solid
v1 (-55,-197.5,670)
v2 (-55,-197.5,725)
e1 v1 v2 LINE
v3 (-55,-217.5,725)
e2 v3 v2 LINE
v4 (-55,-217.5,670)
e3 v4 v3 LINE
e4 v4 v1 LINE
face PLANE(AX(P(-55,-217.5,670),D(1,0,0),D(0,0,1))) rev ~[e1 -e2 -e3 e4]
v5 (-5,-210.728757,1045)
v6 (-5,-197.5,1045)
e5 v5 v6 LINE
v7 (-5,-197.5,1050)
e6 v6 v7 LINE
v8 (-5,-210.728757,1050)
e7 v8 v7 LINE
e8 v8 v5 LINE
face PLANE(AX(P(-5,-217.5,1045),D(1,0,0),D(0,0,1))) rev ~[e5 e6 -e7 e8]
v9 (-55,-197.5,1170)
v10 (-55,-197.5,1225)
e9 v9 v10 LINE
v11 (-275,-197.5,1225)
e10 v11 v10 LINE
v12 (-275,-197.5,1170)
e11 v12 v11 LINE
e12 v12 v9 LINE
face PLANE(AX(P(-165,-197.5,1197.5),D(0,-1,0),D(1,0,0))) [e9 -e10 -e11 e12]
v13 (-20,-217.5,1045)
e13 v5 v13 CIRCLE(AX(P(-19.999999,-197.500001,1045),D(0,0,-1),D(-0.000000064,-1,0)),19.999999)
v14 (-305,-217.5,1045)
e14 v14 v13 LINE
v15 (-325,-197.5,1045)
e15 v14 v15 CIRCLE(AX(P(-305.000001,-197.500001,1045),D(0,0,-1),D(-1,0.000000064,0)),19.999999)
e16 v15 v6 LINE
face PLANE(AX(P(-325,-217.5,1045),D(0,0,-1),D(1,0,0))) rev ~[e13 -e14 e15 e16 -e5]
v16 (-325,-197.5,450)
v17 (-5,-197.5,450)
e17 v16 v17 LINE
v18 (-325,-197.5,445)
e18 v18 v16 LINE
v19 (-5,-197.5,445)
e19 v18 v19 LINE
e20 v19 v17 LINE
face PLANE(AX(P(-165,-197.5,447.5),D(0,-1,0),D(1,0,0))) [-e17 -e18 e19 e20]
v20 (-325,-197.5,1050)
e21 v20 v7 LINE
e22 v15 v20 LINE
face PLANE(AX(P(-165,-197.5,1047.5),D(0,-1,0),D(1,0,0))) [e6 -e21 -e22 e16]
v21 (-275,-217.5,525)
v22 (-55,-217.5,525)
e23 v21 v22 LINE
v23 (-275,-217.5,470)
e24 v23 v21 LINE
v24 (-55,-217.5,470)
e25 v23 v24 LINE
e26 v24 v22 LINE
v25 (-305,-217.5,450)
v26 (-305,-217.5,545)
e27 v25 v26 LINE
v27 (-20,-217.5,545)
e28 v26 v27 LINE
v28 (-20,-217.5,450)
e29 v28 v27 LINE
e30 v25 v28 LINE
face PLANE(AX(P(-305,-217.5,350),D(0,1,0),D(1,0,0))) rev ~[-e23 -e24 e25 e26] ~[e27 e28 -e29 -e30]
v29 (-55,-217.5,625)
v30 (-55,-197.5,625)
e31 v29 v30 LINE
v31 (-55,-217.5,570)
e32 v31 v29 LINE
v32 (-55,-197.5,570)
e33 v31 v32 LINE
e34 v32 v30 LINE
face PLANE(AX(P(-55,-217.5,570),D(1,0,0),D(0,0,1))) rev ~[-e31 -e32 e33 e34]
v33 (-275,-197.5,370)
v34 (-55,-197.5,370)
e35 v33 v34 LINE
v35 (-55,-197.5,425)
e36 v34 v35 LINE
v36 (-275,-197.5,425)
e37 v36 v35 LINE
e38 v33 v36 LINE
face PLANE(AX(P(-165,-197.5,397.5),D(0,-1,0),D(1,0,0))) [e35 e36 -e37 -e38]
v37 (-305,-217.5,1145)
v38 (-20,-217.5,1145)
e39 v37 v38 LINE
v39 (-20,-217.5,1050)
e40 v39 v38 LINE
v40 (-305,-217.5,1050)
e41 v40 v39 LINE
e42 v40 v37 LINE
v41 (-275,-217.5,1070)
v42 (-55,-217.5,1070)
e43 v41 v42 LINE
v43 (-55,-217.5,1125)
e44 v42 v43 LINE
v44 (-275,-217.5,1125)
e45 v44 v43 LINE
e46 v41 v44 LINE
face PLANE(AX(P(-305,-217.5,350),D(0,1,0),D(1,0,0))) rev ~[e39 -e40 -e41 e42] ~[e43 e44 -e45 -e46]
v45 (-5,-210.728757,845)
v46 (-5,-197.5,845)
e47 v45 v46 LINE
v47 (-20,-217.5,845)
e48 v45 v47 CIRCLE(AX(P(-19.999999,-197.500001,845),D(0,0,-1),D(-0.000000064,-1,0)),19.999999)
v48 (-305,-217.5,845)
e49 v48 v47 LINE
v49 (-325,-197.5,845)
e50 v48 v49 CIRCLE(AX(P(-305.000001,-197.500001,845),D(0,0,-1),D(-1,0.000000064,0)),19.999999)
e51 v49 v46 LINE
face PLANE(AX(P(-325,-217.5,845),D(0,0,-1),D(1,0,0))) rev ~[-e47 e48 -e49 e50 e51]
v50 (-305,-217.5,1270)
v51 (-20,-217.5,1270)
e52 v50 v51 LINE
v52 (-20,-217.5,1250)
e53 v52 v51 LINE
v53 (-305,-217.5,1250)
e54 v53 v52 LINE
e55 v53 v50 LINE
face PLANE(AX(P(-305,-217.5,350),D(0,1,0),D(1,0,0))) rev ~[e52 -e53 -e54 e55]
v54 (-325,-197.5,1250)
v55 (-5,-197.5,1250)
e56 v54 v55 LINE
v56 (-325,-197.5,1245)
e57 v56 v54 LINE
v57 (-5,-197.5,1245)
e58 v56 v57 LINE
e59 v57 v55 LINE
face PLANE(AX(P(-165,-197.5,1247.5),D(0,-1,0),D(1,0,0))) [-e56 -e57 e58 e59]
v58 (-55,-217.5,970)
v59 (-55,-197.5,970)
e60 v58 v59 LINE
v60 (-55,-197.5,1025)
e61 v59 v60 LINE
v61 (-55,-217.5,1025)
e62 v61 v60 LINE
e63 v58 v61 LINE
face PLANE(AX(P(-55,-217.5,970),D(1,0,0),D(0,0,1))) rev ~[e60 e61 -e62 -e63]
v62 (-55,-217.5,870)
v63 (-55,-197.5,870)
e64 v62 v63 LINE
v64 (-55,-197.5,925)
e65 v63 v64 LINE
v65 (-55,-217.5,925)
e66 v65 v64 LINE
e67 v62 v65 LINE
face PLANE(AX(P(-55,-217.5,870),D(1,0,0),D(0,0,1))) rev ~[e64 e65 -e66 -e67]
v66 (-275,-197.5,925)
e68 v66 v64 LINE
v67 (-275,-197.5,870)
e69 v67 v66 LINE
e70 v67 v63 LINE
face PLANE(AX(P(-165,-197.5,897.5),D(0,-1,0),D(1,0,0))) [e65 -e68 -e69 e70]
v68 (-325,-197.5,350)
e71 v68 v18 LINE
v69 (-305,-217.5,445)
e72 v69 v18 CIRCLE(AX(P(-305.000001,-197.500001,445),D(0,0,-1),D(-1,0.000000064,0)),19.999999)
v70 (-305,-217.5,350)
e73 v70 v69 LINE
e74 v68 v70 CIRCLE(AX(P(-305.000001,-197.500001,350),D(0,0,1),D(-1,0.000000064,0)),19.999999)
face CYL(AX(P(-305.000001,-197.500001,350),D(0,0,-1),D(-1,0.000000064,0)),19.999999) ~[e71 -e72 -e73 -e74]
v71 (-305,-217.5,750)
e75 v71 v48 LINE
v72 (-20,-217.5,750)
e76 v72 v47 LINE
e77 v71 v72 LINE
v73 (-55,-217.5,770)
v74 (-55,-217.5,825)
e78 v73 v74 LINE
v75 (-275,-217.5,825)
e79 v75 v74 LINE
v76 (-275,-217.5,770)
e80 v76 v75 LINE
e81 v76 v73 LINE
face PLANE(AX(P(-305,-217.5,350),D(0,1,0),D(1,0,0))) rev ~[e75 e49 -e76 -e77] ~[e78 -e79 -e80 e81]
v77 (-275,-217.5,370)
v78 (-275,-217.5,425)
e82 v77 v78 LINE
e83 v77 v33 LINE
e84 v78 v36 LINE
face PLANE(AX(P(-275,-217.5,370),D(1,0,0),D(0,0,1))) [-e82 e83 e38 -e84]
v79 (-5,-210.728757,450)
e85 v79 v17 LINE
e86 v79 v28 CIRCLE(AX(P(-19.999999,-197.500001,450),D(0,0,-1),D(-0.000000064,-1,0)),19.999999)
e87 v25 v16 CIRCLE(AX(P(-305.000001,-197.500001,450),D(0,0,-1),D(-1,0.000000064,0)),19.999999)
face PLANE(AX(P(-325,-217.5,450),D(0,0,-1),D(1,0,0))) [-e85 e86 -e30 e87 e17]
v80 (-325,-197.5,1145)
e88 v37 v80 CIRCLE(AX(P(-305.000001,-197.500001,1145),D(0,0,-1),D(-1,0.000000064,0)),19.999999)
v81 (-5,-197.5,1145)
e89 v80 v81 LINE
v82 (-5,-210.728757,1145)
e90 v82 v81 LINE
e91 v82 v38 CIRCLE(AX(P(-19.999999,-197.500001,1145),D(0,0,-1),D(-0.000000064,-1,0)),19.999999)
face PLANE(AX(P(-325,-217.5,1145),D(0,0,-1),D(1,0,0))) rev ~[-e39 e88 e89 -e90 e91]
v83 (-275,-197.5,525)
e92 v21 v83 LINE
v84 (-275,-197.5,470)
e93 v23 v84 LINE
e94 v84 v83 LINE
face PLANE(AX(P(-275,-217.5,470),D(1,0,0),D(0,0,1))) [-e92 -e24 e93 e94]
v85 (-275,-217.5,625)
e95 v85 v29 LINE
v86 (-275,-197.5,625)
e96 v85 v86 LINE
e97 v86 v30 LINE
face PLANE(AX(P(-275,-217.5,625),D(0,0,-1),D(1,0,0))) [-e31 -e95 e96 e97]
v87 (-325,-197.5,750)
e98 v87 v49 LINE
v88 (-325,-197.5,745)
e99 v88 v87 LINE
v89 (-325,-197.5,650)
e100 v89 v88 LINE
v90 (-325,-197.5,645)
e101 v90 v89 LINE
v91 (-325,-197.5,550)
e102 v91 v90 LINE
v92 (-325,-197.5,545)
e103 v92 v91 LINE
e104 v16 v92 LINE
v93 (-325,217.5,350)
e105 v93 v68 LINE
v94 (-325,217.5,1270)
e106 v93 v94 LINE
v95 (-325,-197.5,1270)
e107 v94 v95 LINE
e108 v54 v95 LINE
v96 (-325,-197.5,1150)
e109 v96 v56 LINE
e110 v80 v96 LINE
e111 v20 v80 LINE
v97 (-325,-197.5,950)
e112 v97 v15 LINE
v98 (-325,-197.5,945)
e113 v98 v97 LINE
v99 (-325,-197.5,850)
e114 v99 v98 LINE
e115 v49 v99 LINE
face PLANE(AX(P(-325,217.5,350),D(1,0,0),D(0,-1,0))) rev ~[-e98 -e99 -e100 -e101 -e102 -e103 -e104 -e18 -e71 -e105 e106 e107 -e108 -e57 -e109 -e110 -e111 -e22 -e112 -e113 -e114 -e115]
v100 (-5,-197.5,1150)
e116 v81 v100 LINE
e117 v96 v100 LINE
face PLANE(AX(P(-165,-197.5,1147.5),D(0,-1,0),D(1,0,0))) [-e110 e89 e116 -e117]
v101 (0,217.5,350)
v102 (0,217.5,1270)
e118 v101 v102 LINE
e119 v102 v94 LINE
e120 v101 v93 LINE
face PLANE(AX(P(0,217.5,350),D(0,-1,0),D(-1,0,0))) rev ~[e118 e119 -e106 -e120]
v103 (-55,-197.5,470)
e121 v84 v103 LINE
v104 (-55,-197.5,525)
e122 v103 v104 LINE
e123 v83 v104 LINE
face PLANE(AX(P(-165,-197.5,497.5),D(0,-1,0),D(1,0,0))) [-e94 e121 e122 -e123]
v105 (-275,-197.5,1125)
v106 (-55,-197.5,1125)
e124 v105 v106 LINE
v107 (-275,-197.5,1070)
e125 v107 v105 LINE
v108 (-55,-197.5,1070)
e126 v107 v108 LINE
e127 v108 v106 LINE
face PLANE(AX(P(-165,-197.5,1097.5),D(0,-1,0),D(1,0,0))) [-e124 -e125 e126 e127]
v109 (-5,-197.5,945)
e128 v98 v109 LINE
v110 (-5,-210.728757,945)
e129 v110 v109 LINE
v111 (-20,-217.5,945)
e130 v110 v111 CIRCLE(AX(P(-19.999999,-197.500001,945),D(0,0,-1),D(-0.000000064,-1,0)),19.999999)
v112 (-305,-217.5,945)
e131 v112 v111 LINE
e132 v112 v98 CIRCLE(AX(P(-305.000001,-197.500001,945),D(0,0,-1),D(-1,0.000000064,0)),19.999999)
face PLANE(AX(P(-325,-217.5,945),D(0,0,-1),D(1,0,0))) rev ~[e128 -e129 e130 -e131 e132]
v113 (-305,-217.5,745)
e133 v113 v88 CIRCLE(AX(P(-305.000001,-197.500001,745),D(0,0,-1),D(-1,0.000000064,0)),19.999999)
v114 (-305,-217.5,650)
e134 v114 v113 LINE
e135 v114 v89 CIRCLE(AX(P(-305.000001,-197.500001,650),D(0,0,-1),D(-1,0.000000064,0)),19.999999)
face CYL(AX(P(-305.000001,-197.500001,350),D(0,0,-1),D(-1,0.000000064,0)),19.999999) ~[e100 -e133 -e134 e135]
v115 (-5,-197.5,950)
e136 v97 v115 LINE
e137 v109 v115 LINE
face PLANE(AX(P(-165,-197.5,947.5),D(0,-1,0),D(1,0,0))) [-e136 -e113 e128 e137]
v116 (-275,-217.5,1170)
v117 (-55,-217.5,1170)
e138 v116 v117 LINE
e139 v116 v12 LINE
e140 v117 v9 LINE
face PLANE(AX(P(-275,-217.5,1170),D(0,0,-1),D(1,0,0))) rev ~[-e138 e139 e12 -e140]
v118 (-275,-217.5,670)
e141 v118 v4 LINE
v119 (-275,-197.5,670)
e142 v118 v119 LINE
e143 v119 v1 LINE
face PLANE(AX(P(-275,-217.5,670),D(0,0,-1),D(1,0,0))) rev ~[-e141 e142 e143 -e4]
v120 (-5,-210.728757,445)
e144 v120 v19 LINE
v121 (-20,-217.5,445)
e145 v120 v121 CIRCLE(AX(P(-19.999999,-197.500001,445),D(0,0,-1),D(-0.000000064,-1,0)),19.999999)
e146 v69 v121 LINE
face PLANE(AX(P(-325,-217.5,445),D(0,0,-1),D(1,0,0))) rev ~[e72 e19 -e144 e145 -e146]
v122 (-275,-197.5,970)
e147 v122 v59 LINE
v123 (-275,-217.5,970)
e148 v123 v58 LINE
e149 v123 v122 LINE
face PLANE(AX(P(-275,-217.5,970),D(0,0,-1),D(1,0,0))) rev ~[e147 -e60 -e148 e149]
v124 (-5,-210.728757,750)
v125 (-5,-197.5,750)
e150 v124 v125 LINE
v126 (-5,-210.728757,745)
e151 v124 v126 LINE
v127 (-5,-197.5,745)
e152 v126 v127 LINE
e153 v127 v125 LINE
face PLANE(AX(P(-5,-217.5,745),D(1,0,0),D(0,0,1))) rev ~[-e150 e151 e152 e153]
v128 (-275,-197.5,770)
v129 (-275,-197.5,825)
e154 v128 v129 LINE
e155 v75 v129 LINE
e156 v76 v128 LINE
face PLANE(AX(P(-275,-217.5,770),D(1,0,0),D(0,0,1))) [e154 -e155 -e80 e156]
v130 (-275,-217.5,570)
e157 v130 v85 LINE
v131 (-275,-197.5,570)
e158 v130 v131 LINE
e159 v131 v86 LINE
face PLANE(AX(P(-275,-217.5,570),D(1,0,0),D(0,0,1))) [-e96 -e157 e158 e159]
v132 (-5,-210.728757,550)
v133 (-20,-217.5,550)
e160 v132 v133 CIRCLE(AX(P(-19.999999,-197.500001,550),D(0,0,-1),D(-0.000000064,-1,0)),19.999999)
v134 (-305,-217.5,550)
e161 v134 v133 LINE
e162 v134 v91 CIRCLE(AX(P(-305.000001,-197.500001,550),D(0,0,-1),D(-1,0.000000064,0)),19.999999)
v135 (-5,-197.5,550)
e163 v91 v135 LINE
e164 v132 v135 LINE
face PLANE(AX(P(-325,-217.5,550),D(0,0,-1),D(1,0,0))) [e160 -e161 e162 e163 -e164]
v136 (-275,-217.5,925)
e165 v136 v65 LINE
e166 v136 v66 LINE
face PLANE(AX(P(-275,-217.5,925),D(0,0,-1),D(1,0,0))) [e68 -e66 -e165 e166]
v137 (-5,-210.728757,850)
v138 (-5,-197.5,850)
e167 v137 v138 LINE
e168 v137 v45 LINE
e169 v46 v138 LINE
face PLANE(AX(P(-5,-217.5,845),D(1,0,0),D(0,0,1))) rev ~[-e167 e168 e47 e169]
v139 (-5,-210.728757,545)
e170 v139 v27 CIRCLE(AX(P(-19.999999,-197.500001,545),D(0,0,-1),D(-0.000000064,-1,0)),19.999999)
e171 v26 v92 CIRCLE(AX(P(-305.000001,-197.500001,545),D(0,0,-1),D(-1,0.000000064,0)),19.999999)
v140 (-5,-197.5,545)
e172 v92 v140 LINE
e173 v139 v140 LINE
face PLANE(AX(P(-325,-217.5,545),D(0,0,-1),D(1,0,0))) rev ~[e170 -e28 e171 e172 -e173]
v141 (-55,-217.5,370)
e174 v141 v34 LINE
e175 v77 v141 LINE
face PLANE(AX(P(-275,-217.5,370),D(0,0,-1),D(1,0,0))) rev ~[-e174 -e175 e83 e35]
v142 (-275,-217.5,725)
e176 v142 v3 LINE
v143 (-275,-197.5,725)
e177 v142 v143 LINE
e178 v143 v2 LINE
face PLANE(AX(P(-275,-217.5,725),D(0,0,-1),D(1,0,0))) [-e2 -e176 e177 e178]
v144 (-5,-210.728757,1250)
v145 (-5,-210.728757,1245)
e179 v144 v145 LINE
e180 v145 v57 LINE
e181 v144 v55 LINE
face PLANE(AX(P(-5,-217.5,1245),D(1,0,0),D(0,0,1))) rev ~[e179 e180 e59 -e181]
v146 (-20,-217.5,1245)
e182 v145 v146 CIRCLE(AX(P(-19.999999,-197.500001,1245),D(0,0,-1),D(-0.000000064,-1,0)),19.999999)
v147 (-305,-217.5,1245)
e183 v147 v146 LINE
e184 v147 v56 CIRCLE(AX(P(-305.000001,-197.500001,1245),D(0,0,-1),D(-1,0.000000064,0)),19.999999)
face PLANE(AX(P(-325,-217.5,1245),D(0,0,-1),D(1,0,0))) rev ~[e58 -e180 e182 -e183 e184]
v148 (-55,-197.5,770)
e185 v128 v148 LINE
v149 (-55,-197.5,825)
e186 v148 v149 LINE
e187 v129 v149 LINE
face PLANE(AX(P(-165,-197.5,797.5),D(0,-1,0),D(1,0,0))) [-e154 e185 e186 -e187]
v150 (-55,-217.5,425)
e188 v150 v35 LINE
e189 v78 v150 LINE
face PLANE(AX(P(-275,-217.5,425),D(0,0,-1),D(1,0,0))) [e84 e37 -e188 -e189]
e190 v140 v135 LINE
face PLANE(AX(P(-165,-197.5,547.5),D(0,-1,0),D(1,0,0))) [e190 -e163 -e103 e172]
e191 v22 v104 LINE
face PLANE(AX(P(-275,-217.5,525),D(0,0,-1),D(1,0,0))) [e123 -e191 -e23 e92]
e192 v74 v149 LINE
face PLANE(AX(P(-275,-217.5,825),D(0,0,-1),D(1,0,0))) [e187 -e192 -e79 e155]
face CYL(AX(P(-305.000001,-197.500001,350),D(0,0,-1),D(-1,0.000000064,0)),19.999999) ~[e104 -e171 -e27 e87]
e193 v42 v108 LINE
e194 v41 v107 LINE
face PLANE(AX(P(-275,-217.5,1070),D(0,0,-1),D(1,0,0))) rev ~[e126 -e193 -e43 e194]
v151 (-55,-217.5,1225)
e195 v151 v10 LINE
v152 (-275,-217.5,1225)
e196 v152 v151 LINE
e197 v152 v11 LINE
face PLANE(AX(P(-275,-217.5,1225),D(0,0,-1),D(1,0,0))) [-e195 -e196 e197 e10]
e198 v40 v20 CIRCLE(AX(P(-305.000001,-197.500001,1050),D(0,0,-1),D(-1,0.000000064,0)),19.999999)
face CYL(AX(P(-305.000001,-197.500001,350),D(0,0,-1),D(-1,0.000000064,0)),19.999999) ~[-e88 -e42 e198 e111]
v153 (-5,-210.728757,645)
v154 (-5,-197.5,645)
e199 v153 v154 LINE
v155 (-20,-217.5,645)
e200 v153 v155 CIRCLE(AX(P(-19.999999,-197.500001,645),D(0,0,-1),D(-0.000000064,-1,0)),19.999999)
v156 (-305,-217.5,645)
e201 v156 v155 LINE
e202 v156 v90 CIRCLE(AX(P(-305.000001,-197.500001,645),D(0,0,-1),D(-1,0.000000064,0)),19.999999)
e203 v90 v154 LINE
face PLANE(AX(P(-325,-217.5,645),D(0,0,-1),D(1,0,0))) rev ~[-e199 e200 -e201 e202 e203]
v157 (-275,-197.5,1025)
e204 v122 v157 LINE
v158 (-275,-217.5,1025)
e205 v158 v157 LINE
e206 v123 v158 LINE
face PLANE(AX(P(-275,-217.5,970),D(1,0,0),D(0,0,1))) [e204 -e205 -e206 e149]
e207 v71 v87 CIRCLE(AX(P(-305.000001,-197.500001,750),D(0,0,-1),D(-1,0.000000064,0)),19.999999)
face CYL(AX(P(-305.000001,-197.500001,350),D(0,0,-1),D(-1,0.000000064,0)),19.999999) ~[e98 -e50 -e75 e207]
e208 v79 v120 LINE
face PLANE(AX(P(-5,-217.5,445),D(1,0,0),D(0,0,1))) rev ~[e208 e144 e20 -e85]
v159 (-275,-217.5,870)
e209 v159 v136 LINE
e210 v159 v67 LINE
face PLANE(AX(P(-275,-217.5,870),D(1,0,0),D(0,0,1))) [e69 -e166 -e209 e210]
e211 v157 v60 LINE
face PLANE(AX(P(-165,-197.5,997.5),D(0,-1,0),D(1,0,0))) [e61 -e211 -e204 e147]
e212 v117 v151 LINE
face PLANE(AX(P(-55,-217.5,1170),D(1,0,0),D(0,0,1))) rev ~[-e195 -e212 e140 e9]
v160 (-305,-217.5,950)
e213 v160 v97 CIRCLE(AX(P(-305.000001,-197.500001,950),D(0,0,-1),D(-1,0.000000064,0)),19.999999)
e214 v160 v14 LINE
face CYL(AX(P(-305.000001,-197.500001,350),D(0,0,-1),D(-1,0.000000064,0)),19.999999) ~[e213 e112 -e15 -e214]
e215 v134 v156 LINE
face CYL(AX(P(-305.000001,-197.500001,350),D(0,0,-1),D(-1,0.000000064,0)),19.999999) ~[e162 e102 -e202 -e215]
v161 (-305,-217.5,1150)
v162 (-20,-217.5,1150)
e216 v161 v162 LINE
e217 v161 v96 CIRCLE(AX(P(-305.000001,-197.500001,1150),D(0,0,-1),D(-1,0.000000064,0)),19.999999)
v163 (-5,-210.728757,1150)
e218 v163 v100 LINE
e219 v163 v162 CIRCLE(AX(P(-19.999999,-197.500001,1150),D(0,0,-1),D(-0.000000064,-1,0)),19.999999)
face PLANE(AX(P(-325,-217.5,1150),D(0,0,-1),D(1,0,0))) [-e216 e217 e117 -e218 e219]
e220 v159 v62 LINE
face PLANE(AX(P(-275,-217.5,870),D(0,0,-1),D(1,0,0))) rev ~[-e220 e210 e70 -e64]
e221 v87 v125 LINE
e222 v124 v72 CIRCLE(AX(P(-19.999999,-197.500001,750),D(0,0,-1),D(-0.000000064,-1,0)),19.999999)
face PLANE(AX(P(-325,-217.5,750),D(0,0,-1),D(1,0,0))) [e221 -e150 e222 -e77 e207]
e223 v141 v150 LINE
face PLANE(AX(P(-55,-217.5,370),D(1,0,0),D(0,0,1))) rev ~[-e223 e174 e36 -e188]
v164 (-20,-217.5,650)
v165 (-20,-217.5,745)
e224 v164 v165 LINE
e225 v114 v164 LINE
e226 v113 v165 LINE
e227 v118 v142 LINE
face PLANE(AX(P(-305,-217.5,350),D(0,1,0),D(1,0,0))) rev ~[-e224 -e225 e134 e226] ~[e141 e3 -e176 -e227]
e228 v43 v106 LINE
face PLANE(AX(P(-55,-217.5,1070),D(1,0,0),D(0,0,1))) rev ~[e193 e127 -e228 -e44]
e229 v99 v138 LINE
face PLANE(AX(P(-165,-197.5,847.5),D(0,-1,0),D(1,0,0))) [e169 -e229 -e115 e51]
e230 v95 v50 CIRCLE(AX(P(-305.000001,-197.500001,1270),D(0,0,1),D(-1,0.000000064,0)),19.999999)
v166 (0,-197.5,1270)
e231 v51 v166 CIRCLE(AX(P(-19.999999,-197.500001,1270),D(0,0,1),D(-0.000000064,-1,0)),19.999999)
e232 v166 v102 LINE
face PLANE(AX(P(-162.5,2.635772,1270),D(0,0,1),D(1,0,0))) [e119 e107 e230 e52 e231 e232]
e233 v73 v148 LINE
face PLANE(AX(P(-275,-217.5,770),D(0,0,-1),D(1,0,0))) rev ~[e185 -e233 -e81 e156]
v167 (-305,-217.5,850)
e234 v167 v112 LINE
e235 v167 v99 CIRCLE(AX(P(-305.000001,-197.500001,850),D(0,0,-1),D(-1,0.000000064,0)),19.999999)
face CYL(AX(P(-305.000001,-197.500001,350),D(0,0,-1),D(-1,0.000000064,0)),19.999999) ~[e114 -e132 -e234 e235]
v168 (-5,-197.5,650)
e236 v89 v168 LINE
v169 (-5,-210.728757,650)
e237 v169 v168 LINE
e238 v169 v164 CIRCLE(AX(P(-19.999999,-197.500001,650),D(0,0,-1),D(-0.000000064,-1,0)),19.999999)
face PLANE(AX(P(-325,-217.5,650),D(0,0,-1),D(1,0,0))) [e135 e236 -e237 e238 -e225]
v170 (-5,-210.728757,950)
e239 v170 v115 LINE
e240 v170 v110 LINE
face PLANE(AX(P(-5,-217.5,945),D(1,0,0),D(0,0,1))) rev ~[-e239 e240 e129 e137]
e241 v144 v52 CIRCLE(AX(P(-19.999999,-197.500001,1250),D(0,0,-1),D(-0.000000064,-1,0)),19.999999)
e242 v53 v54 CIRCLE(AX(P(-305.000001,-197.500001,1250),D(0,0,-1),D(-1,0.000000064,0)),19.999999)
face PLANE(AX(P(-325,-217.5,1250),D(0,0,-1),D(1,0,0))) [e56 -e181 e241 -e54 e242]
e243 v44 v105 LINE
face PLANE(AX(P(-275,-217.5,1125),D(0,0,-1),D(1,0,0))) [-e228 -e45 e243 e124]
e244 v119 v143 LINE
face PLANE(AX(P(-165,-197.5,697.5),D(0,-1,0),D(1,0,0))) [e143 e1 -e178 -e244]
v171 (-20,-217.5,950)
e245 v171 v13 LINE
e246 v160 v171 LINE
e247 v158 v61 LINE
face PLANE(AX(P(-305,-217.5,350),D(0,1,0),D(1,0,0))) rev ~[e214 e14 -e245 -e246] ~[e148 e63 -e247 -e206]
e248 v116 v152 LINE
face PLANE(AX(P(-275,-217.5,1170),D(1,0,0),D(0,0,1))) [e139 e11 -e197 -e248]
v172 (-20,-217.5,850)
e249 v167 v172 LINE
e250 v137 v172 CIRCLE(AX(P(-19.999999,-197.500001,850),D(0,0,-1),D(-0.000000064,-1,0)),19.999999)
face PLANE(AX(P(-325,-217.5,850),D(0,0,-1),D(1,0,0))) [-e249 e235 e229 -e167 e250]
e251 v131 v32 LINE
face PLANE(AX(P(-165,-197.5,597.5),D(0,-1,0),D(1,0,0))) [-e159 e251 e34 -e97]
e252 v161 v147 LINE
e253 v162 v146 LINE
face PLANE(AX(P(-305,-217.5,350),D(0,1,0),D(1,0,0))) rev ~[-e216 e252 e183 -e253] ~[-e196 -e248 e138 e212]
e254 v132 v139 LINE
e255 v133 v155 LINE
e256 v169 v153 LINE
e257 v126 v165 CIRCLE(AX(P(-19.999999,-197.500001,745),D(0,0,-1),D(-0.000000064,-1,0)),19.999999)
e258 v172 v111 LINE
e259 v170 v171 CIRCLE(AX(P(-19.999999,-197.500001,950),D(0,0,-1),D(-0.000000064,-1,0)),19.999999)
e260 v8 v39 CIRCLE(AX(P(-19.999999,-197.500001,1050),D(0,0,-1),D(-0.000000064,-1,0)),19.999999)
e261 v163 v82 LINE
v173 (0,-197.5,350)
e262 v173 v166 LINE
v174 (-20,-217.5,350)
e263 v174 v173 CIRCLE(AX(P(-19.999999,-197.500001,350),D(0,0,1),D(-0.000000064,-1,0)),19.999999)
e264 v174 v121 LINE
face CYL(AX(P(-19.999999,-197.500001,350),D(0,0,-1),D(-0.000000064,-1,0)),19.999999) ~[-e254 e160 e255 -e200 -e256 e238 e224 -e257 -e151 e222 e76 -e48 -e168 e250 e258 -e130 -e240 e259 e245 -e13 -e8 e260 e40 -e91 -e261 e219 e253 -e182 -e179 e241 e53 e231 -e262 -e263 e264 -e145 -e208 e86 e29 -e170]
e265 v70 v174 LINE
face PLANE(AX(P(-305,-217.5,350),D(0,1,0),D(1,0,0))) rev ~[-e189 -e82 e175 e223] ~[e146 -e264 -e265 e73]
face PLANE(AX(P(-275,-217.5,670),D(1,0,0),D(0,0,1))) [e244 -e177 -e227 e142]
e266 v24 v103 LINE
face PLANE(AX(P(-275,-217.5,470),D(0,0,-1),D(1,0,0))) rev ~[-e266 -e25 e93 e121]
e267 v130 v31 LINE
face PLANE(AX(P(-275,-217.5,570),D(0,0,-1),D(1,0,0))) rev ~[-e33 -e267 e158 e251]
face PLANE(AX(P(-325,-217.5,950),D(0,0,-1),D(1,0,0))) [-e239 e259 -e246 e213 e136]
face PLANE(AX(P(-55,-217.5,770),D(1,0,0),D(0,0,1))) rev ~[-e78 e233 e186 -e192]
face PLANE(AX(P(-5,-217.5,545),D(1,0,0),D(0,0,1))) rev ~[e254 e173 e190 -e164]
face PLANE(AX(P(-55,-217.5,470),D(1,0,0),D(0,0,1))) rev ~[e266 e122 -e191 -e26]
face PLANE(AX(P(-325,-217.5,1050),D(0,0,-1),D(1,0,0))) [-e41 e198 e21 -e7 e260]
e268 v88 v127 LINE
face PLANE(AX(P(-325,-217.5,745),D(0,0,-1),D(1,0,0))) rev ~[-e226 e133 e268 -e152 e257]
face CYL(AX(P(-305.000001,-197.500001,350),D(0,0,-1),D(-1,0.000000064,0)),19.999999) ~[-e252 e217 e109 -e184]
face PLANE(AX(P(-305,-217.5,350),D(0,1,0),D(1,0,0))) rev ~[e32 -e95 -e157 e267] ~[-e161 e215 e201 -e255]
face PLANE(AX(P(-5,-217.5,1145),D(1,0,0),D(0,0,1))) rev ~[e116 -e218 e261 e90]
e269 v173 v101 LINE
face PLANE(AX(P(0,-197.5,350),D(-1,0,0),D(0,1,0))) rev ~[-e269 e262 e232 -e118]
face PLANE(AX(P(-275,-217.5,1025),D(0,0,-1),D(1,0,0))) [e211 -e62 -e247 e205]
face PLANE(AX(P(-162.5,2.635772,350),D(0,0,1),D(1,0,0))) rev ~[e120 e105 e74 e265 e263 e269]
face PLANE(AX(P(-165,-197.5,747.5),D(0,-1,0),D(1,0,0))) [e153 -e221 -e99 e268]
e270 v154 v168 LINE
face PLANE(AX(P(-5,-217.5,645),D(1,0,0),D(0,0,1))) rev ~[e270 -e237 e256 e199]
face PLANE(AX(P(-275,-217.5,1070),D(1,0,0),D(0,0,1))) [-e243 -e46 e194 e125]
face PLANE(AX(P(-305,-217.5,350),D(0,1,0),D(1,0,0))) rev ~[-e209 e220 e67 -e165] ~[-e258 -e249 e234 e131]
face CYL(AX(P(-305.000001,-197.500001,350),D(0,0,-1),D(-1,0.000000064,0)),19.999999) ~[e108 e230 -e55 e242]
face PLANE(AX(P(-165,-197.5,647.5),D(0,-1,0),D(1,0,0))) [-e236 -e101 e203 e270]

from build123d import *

# Parameters (mm, degrees)
PAD009_DEPTH        = 920
SKETCH017_W         = 220
SKETCH017_H         = 55
SKETCH017_W_2       = 320
SKETCH017_H_2       = 5
POCKET002_DEPTH     = 20
LINEARPATTERN_COUNT = 9
LINEARPATTERN_PITCH = 100


with BuildPart() as part:
    # Sketch016 → Pad009 (new body)
    with BuildSketch(Plane.XY):
        with BuildLine():
            Line((20, 0), (305, 0))
            ThreePointArc((305, 0), (319.142136, 5.857864), (325, 20))
            Line((325, 20), (325, 435))
            Line((325, 435), (0, 435))
            Line((0, 435), (0, 20))
            ThreePointArc((0, 20), (5.857864, 5.857864), (20, 0))
        make_face()
    extrude(amount=PAD009_DEPTH)

    # Sketch017 → Pocket002 (cut)
    with BuildSketch(Plane.XZ):
        with Locations((160, 47.5)):
            Rectangle(SKETCH017_W, SKETCH017_H)
        with Locations((160, 97.5)):
            Rectangle(SKETCH017_W_2, SKETCH017_H_2)
    pocket002 = extrude(amount=-POCKET002_DEPTH, mode=Mode.SUBTRACT)

    # LinearPattern: Pocket002 ×9
    with Locations(*[(0, 0, i * LINEARPATTERN_PITCH) for i in range(1, LINEARPATTERN_COUNT)]):
        add(pocket002, mode=Mode.SUBTRACT)


with BuildPart() as part_1:
    # Clone002 placement: moved
    add(part.part.moved(Location((-325, -217.5, 350))))


solid = part_1.part
